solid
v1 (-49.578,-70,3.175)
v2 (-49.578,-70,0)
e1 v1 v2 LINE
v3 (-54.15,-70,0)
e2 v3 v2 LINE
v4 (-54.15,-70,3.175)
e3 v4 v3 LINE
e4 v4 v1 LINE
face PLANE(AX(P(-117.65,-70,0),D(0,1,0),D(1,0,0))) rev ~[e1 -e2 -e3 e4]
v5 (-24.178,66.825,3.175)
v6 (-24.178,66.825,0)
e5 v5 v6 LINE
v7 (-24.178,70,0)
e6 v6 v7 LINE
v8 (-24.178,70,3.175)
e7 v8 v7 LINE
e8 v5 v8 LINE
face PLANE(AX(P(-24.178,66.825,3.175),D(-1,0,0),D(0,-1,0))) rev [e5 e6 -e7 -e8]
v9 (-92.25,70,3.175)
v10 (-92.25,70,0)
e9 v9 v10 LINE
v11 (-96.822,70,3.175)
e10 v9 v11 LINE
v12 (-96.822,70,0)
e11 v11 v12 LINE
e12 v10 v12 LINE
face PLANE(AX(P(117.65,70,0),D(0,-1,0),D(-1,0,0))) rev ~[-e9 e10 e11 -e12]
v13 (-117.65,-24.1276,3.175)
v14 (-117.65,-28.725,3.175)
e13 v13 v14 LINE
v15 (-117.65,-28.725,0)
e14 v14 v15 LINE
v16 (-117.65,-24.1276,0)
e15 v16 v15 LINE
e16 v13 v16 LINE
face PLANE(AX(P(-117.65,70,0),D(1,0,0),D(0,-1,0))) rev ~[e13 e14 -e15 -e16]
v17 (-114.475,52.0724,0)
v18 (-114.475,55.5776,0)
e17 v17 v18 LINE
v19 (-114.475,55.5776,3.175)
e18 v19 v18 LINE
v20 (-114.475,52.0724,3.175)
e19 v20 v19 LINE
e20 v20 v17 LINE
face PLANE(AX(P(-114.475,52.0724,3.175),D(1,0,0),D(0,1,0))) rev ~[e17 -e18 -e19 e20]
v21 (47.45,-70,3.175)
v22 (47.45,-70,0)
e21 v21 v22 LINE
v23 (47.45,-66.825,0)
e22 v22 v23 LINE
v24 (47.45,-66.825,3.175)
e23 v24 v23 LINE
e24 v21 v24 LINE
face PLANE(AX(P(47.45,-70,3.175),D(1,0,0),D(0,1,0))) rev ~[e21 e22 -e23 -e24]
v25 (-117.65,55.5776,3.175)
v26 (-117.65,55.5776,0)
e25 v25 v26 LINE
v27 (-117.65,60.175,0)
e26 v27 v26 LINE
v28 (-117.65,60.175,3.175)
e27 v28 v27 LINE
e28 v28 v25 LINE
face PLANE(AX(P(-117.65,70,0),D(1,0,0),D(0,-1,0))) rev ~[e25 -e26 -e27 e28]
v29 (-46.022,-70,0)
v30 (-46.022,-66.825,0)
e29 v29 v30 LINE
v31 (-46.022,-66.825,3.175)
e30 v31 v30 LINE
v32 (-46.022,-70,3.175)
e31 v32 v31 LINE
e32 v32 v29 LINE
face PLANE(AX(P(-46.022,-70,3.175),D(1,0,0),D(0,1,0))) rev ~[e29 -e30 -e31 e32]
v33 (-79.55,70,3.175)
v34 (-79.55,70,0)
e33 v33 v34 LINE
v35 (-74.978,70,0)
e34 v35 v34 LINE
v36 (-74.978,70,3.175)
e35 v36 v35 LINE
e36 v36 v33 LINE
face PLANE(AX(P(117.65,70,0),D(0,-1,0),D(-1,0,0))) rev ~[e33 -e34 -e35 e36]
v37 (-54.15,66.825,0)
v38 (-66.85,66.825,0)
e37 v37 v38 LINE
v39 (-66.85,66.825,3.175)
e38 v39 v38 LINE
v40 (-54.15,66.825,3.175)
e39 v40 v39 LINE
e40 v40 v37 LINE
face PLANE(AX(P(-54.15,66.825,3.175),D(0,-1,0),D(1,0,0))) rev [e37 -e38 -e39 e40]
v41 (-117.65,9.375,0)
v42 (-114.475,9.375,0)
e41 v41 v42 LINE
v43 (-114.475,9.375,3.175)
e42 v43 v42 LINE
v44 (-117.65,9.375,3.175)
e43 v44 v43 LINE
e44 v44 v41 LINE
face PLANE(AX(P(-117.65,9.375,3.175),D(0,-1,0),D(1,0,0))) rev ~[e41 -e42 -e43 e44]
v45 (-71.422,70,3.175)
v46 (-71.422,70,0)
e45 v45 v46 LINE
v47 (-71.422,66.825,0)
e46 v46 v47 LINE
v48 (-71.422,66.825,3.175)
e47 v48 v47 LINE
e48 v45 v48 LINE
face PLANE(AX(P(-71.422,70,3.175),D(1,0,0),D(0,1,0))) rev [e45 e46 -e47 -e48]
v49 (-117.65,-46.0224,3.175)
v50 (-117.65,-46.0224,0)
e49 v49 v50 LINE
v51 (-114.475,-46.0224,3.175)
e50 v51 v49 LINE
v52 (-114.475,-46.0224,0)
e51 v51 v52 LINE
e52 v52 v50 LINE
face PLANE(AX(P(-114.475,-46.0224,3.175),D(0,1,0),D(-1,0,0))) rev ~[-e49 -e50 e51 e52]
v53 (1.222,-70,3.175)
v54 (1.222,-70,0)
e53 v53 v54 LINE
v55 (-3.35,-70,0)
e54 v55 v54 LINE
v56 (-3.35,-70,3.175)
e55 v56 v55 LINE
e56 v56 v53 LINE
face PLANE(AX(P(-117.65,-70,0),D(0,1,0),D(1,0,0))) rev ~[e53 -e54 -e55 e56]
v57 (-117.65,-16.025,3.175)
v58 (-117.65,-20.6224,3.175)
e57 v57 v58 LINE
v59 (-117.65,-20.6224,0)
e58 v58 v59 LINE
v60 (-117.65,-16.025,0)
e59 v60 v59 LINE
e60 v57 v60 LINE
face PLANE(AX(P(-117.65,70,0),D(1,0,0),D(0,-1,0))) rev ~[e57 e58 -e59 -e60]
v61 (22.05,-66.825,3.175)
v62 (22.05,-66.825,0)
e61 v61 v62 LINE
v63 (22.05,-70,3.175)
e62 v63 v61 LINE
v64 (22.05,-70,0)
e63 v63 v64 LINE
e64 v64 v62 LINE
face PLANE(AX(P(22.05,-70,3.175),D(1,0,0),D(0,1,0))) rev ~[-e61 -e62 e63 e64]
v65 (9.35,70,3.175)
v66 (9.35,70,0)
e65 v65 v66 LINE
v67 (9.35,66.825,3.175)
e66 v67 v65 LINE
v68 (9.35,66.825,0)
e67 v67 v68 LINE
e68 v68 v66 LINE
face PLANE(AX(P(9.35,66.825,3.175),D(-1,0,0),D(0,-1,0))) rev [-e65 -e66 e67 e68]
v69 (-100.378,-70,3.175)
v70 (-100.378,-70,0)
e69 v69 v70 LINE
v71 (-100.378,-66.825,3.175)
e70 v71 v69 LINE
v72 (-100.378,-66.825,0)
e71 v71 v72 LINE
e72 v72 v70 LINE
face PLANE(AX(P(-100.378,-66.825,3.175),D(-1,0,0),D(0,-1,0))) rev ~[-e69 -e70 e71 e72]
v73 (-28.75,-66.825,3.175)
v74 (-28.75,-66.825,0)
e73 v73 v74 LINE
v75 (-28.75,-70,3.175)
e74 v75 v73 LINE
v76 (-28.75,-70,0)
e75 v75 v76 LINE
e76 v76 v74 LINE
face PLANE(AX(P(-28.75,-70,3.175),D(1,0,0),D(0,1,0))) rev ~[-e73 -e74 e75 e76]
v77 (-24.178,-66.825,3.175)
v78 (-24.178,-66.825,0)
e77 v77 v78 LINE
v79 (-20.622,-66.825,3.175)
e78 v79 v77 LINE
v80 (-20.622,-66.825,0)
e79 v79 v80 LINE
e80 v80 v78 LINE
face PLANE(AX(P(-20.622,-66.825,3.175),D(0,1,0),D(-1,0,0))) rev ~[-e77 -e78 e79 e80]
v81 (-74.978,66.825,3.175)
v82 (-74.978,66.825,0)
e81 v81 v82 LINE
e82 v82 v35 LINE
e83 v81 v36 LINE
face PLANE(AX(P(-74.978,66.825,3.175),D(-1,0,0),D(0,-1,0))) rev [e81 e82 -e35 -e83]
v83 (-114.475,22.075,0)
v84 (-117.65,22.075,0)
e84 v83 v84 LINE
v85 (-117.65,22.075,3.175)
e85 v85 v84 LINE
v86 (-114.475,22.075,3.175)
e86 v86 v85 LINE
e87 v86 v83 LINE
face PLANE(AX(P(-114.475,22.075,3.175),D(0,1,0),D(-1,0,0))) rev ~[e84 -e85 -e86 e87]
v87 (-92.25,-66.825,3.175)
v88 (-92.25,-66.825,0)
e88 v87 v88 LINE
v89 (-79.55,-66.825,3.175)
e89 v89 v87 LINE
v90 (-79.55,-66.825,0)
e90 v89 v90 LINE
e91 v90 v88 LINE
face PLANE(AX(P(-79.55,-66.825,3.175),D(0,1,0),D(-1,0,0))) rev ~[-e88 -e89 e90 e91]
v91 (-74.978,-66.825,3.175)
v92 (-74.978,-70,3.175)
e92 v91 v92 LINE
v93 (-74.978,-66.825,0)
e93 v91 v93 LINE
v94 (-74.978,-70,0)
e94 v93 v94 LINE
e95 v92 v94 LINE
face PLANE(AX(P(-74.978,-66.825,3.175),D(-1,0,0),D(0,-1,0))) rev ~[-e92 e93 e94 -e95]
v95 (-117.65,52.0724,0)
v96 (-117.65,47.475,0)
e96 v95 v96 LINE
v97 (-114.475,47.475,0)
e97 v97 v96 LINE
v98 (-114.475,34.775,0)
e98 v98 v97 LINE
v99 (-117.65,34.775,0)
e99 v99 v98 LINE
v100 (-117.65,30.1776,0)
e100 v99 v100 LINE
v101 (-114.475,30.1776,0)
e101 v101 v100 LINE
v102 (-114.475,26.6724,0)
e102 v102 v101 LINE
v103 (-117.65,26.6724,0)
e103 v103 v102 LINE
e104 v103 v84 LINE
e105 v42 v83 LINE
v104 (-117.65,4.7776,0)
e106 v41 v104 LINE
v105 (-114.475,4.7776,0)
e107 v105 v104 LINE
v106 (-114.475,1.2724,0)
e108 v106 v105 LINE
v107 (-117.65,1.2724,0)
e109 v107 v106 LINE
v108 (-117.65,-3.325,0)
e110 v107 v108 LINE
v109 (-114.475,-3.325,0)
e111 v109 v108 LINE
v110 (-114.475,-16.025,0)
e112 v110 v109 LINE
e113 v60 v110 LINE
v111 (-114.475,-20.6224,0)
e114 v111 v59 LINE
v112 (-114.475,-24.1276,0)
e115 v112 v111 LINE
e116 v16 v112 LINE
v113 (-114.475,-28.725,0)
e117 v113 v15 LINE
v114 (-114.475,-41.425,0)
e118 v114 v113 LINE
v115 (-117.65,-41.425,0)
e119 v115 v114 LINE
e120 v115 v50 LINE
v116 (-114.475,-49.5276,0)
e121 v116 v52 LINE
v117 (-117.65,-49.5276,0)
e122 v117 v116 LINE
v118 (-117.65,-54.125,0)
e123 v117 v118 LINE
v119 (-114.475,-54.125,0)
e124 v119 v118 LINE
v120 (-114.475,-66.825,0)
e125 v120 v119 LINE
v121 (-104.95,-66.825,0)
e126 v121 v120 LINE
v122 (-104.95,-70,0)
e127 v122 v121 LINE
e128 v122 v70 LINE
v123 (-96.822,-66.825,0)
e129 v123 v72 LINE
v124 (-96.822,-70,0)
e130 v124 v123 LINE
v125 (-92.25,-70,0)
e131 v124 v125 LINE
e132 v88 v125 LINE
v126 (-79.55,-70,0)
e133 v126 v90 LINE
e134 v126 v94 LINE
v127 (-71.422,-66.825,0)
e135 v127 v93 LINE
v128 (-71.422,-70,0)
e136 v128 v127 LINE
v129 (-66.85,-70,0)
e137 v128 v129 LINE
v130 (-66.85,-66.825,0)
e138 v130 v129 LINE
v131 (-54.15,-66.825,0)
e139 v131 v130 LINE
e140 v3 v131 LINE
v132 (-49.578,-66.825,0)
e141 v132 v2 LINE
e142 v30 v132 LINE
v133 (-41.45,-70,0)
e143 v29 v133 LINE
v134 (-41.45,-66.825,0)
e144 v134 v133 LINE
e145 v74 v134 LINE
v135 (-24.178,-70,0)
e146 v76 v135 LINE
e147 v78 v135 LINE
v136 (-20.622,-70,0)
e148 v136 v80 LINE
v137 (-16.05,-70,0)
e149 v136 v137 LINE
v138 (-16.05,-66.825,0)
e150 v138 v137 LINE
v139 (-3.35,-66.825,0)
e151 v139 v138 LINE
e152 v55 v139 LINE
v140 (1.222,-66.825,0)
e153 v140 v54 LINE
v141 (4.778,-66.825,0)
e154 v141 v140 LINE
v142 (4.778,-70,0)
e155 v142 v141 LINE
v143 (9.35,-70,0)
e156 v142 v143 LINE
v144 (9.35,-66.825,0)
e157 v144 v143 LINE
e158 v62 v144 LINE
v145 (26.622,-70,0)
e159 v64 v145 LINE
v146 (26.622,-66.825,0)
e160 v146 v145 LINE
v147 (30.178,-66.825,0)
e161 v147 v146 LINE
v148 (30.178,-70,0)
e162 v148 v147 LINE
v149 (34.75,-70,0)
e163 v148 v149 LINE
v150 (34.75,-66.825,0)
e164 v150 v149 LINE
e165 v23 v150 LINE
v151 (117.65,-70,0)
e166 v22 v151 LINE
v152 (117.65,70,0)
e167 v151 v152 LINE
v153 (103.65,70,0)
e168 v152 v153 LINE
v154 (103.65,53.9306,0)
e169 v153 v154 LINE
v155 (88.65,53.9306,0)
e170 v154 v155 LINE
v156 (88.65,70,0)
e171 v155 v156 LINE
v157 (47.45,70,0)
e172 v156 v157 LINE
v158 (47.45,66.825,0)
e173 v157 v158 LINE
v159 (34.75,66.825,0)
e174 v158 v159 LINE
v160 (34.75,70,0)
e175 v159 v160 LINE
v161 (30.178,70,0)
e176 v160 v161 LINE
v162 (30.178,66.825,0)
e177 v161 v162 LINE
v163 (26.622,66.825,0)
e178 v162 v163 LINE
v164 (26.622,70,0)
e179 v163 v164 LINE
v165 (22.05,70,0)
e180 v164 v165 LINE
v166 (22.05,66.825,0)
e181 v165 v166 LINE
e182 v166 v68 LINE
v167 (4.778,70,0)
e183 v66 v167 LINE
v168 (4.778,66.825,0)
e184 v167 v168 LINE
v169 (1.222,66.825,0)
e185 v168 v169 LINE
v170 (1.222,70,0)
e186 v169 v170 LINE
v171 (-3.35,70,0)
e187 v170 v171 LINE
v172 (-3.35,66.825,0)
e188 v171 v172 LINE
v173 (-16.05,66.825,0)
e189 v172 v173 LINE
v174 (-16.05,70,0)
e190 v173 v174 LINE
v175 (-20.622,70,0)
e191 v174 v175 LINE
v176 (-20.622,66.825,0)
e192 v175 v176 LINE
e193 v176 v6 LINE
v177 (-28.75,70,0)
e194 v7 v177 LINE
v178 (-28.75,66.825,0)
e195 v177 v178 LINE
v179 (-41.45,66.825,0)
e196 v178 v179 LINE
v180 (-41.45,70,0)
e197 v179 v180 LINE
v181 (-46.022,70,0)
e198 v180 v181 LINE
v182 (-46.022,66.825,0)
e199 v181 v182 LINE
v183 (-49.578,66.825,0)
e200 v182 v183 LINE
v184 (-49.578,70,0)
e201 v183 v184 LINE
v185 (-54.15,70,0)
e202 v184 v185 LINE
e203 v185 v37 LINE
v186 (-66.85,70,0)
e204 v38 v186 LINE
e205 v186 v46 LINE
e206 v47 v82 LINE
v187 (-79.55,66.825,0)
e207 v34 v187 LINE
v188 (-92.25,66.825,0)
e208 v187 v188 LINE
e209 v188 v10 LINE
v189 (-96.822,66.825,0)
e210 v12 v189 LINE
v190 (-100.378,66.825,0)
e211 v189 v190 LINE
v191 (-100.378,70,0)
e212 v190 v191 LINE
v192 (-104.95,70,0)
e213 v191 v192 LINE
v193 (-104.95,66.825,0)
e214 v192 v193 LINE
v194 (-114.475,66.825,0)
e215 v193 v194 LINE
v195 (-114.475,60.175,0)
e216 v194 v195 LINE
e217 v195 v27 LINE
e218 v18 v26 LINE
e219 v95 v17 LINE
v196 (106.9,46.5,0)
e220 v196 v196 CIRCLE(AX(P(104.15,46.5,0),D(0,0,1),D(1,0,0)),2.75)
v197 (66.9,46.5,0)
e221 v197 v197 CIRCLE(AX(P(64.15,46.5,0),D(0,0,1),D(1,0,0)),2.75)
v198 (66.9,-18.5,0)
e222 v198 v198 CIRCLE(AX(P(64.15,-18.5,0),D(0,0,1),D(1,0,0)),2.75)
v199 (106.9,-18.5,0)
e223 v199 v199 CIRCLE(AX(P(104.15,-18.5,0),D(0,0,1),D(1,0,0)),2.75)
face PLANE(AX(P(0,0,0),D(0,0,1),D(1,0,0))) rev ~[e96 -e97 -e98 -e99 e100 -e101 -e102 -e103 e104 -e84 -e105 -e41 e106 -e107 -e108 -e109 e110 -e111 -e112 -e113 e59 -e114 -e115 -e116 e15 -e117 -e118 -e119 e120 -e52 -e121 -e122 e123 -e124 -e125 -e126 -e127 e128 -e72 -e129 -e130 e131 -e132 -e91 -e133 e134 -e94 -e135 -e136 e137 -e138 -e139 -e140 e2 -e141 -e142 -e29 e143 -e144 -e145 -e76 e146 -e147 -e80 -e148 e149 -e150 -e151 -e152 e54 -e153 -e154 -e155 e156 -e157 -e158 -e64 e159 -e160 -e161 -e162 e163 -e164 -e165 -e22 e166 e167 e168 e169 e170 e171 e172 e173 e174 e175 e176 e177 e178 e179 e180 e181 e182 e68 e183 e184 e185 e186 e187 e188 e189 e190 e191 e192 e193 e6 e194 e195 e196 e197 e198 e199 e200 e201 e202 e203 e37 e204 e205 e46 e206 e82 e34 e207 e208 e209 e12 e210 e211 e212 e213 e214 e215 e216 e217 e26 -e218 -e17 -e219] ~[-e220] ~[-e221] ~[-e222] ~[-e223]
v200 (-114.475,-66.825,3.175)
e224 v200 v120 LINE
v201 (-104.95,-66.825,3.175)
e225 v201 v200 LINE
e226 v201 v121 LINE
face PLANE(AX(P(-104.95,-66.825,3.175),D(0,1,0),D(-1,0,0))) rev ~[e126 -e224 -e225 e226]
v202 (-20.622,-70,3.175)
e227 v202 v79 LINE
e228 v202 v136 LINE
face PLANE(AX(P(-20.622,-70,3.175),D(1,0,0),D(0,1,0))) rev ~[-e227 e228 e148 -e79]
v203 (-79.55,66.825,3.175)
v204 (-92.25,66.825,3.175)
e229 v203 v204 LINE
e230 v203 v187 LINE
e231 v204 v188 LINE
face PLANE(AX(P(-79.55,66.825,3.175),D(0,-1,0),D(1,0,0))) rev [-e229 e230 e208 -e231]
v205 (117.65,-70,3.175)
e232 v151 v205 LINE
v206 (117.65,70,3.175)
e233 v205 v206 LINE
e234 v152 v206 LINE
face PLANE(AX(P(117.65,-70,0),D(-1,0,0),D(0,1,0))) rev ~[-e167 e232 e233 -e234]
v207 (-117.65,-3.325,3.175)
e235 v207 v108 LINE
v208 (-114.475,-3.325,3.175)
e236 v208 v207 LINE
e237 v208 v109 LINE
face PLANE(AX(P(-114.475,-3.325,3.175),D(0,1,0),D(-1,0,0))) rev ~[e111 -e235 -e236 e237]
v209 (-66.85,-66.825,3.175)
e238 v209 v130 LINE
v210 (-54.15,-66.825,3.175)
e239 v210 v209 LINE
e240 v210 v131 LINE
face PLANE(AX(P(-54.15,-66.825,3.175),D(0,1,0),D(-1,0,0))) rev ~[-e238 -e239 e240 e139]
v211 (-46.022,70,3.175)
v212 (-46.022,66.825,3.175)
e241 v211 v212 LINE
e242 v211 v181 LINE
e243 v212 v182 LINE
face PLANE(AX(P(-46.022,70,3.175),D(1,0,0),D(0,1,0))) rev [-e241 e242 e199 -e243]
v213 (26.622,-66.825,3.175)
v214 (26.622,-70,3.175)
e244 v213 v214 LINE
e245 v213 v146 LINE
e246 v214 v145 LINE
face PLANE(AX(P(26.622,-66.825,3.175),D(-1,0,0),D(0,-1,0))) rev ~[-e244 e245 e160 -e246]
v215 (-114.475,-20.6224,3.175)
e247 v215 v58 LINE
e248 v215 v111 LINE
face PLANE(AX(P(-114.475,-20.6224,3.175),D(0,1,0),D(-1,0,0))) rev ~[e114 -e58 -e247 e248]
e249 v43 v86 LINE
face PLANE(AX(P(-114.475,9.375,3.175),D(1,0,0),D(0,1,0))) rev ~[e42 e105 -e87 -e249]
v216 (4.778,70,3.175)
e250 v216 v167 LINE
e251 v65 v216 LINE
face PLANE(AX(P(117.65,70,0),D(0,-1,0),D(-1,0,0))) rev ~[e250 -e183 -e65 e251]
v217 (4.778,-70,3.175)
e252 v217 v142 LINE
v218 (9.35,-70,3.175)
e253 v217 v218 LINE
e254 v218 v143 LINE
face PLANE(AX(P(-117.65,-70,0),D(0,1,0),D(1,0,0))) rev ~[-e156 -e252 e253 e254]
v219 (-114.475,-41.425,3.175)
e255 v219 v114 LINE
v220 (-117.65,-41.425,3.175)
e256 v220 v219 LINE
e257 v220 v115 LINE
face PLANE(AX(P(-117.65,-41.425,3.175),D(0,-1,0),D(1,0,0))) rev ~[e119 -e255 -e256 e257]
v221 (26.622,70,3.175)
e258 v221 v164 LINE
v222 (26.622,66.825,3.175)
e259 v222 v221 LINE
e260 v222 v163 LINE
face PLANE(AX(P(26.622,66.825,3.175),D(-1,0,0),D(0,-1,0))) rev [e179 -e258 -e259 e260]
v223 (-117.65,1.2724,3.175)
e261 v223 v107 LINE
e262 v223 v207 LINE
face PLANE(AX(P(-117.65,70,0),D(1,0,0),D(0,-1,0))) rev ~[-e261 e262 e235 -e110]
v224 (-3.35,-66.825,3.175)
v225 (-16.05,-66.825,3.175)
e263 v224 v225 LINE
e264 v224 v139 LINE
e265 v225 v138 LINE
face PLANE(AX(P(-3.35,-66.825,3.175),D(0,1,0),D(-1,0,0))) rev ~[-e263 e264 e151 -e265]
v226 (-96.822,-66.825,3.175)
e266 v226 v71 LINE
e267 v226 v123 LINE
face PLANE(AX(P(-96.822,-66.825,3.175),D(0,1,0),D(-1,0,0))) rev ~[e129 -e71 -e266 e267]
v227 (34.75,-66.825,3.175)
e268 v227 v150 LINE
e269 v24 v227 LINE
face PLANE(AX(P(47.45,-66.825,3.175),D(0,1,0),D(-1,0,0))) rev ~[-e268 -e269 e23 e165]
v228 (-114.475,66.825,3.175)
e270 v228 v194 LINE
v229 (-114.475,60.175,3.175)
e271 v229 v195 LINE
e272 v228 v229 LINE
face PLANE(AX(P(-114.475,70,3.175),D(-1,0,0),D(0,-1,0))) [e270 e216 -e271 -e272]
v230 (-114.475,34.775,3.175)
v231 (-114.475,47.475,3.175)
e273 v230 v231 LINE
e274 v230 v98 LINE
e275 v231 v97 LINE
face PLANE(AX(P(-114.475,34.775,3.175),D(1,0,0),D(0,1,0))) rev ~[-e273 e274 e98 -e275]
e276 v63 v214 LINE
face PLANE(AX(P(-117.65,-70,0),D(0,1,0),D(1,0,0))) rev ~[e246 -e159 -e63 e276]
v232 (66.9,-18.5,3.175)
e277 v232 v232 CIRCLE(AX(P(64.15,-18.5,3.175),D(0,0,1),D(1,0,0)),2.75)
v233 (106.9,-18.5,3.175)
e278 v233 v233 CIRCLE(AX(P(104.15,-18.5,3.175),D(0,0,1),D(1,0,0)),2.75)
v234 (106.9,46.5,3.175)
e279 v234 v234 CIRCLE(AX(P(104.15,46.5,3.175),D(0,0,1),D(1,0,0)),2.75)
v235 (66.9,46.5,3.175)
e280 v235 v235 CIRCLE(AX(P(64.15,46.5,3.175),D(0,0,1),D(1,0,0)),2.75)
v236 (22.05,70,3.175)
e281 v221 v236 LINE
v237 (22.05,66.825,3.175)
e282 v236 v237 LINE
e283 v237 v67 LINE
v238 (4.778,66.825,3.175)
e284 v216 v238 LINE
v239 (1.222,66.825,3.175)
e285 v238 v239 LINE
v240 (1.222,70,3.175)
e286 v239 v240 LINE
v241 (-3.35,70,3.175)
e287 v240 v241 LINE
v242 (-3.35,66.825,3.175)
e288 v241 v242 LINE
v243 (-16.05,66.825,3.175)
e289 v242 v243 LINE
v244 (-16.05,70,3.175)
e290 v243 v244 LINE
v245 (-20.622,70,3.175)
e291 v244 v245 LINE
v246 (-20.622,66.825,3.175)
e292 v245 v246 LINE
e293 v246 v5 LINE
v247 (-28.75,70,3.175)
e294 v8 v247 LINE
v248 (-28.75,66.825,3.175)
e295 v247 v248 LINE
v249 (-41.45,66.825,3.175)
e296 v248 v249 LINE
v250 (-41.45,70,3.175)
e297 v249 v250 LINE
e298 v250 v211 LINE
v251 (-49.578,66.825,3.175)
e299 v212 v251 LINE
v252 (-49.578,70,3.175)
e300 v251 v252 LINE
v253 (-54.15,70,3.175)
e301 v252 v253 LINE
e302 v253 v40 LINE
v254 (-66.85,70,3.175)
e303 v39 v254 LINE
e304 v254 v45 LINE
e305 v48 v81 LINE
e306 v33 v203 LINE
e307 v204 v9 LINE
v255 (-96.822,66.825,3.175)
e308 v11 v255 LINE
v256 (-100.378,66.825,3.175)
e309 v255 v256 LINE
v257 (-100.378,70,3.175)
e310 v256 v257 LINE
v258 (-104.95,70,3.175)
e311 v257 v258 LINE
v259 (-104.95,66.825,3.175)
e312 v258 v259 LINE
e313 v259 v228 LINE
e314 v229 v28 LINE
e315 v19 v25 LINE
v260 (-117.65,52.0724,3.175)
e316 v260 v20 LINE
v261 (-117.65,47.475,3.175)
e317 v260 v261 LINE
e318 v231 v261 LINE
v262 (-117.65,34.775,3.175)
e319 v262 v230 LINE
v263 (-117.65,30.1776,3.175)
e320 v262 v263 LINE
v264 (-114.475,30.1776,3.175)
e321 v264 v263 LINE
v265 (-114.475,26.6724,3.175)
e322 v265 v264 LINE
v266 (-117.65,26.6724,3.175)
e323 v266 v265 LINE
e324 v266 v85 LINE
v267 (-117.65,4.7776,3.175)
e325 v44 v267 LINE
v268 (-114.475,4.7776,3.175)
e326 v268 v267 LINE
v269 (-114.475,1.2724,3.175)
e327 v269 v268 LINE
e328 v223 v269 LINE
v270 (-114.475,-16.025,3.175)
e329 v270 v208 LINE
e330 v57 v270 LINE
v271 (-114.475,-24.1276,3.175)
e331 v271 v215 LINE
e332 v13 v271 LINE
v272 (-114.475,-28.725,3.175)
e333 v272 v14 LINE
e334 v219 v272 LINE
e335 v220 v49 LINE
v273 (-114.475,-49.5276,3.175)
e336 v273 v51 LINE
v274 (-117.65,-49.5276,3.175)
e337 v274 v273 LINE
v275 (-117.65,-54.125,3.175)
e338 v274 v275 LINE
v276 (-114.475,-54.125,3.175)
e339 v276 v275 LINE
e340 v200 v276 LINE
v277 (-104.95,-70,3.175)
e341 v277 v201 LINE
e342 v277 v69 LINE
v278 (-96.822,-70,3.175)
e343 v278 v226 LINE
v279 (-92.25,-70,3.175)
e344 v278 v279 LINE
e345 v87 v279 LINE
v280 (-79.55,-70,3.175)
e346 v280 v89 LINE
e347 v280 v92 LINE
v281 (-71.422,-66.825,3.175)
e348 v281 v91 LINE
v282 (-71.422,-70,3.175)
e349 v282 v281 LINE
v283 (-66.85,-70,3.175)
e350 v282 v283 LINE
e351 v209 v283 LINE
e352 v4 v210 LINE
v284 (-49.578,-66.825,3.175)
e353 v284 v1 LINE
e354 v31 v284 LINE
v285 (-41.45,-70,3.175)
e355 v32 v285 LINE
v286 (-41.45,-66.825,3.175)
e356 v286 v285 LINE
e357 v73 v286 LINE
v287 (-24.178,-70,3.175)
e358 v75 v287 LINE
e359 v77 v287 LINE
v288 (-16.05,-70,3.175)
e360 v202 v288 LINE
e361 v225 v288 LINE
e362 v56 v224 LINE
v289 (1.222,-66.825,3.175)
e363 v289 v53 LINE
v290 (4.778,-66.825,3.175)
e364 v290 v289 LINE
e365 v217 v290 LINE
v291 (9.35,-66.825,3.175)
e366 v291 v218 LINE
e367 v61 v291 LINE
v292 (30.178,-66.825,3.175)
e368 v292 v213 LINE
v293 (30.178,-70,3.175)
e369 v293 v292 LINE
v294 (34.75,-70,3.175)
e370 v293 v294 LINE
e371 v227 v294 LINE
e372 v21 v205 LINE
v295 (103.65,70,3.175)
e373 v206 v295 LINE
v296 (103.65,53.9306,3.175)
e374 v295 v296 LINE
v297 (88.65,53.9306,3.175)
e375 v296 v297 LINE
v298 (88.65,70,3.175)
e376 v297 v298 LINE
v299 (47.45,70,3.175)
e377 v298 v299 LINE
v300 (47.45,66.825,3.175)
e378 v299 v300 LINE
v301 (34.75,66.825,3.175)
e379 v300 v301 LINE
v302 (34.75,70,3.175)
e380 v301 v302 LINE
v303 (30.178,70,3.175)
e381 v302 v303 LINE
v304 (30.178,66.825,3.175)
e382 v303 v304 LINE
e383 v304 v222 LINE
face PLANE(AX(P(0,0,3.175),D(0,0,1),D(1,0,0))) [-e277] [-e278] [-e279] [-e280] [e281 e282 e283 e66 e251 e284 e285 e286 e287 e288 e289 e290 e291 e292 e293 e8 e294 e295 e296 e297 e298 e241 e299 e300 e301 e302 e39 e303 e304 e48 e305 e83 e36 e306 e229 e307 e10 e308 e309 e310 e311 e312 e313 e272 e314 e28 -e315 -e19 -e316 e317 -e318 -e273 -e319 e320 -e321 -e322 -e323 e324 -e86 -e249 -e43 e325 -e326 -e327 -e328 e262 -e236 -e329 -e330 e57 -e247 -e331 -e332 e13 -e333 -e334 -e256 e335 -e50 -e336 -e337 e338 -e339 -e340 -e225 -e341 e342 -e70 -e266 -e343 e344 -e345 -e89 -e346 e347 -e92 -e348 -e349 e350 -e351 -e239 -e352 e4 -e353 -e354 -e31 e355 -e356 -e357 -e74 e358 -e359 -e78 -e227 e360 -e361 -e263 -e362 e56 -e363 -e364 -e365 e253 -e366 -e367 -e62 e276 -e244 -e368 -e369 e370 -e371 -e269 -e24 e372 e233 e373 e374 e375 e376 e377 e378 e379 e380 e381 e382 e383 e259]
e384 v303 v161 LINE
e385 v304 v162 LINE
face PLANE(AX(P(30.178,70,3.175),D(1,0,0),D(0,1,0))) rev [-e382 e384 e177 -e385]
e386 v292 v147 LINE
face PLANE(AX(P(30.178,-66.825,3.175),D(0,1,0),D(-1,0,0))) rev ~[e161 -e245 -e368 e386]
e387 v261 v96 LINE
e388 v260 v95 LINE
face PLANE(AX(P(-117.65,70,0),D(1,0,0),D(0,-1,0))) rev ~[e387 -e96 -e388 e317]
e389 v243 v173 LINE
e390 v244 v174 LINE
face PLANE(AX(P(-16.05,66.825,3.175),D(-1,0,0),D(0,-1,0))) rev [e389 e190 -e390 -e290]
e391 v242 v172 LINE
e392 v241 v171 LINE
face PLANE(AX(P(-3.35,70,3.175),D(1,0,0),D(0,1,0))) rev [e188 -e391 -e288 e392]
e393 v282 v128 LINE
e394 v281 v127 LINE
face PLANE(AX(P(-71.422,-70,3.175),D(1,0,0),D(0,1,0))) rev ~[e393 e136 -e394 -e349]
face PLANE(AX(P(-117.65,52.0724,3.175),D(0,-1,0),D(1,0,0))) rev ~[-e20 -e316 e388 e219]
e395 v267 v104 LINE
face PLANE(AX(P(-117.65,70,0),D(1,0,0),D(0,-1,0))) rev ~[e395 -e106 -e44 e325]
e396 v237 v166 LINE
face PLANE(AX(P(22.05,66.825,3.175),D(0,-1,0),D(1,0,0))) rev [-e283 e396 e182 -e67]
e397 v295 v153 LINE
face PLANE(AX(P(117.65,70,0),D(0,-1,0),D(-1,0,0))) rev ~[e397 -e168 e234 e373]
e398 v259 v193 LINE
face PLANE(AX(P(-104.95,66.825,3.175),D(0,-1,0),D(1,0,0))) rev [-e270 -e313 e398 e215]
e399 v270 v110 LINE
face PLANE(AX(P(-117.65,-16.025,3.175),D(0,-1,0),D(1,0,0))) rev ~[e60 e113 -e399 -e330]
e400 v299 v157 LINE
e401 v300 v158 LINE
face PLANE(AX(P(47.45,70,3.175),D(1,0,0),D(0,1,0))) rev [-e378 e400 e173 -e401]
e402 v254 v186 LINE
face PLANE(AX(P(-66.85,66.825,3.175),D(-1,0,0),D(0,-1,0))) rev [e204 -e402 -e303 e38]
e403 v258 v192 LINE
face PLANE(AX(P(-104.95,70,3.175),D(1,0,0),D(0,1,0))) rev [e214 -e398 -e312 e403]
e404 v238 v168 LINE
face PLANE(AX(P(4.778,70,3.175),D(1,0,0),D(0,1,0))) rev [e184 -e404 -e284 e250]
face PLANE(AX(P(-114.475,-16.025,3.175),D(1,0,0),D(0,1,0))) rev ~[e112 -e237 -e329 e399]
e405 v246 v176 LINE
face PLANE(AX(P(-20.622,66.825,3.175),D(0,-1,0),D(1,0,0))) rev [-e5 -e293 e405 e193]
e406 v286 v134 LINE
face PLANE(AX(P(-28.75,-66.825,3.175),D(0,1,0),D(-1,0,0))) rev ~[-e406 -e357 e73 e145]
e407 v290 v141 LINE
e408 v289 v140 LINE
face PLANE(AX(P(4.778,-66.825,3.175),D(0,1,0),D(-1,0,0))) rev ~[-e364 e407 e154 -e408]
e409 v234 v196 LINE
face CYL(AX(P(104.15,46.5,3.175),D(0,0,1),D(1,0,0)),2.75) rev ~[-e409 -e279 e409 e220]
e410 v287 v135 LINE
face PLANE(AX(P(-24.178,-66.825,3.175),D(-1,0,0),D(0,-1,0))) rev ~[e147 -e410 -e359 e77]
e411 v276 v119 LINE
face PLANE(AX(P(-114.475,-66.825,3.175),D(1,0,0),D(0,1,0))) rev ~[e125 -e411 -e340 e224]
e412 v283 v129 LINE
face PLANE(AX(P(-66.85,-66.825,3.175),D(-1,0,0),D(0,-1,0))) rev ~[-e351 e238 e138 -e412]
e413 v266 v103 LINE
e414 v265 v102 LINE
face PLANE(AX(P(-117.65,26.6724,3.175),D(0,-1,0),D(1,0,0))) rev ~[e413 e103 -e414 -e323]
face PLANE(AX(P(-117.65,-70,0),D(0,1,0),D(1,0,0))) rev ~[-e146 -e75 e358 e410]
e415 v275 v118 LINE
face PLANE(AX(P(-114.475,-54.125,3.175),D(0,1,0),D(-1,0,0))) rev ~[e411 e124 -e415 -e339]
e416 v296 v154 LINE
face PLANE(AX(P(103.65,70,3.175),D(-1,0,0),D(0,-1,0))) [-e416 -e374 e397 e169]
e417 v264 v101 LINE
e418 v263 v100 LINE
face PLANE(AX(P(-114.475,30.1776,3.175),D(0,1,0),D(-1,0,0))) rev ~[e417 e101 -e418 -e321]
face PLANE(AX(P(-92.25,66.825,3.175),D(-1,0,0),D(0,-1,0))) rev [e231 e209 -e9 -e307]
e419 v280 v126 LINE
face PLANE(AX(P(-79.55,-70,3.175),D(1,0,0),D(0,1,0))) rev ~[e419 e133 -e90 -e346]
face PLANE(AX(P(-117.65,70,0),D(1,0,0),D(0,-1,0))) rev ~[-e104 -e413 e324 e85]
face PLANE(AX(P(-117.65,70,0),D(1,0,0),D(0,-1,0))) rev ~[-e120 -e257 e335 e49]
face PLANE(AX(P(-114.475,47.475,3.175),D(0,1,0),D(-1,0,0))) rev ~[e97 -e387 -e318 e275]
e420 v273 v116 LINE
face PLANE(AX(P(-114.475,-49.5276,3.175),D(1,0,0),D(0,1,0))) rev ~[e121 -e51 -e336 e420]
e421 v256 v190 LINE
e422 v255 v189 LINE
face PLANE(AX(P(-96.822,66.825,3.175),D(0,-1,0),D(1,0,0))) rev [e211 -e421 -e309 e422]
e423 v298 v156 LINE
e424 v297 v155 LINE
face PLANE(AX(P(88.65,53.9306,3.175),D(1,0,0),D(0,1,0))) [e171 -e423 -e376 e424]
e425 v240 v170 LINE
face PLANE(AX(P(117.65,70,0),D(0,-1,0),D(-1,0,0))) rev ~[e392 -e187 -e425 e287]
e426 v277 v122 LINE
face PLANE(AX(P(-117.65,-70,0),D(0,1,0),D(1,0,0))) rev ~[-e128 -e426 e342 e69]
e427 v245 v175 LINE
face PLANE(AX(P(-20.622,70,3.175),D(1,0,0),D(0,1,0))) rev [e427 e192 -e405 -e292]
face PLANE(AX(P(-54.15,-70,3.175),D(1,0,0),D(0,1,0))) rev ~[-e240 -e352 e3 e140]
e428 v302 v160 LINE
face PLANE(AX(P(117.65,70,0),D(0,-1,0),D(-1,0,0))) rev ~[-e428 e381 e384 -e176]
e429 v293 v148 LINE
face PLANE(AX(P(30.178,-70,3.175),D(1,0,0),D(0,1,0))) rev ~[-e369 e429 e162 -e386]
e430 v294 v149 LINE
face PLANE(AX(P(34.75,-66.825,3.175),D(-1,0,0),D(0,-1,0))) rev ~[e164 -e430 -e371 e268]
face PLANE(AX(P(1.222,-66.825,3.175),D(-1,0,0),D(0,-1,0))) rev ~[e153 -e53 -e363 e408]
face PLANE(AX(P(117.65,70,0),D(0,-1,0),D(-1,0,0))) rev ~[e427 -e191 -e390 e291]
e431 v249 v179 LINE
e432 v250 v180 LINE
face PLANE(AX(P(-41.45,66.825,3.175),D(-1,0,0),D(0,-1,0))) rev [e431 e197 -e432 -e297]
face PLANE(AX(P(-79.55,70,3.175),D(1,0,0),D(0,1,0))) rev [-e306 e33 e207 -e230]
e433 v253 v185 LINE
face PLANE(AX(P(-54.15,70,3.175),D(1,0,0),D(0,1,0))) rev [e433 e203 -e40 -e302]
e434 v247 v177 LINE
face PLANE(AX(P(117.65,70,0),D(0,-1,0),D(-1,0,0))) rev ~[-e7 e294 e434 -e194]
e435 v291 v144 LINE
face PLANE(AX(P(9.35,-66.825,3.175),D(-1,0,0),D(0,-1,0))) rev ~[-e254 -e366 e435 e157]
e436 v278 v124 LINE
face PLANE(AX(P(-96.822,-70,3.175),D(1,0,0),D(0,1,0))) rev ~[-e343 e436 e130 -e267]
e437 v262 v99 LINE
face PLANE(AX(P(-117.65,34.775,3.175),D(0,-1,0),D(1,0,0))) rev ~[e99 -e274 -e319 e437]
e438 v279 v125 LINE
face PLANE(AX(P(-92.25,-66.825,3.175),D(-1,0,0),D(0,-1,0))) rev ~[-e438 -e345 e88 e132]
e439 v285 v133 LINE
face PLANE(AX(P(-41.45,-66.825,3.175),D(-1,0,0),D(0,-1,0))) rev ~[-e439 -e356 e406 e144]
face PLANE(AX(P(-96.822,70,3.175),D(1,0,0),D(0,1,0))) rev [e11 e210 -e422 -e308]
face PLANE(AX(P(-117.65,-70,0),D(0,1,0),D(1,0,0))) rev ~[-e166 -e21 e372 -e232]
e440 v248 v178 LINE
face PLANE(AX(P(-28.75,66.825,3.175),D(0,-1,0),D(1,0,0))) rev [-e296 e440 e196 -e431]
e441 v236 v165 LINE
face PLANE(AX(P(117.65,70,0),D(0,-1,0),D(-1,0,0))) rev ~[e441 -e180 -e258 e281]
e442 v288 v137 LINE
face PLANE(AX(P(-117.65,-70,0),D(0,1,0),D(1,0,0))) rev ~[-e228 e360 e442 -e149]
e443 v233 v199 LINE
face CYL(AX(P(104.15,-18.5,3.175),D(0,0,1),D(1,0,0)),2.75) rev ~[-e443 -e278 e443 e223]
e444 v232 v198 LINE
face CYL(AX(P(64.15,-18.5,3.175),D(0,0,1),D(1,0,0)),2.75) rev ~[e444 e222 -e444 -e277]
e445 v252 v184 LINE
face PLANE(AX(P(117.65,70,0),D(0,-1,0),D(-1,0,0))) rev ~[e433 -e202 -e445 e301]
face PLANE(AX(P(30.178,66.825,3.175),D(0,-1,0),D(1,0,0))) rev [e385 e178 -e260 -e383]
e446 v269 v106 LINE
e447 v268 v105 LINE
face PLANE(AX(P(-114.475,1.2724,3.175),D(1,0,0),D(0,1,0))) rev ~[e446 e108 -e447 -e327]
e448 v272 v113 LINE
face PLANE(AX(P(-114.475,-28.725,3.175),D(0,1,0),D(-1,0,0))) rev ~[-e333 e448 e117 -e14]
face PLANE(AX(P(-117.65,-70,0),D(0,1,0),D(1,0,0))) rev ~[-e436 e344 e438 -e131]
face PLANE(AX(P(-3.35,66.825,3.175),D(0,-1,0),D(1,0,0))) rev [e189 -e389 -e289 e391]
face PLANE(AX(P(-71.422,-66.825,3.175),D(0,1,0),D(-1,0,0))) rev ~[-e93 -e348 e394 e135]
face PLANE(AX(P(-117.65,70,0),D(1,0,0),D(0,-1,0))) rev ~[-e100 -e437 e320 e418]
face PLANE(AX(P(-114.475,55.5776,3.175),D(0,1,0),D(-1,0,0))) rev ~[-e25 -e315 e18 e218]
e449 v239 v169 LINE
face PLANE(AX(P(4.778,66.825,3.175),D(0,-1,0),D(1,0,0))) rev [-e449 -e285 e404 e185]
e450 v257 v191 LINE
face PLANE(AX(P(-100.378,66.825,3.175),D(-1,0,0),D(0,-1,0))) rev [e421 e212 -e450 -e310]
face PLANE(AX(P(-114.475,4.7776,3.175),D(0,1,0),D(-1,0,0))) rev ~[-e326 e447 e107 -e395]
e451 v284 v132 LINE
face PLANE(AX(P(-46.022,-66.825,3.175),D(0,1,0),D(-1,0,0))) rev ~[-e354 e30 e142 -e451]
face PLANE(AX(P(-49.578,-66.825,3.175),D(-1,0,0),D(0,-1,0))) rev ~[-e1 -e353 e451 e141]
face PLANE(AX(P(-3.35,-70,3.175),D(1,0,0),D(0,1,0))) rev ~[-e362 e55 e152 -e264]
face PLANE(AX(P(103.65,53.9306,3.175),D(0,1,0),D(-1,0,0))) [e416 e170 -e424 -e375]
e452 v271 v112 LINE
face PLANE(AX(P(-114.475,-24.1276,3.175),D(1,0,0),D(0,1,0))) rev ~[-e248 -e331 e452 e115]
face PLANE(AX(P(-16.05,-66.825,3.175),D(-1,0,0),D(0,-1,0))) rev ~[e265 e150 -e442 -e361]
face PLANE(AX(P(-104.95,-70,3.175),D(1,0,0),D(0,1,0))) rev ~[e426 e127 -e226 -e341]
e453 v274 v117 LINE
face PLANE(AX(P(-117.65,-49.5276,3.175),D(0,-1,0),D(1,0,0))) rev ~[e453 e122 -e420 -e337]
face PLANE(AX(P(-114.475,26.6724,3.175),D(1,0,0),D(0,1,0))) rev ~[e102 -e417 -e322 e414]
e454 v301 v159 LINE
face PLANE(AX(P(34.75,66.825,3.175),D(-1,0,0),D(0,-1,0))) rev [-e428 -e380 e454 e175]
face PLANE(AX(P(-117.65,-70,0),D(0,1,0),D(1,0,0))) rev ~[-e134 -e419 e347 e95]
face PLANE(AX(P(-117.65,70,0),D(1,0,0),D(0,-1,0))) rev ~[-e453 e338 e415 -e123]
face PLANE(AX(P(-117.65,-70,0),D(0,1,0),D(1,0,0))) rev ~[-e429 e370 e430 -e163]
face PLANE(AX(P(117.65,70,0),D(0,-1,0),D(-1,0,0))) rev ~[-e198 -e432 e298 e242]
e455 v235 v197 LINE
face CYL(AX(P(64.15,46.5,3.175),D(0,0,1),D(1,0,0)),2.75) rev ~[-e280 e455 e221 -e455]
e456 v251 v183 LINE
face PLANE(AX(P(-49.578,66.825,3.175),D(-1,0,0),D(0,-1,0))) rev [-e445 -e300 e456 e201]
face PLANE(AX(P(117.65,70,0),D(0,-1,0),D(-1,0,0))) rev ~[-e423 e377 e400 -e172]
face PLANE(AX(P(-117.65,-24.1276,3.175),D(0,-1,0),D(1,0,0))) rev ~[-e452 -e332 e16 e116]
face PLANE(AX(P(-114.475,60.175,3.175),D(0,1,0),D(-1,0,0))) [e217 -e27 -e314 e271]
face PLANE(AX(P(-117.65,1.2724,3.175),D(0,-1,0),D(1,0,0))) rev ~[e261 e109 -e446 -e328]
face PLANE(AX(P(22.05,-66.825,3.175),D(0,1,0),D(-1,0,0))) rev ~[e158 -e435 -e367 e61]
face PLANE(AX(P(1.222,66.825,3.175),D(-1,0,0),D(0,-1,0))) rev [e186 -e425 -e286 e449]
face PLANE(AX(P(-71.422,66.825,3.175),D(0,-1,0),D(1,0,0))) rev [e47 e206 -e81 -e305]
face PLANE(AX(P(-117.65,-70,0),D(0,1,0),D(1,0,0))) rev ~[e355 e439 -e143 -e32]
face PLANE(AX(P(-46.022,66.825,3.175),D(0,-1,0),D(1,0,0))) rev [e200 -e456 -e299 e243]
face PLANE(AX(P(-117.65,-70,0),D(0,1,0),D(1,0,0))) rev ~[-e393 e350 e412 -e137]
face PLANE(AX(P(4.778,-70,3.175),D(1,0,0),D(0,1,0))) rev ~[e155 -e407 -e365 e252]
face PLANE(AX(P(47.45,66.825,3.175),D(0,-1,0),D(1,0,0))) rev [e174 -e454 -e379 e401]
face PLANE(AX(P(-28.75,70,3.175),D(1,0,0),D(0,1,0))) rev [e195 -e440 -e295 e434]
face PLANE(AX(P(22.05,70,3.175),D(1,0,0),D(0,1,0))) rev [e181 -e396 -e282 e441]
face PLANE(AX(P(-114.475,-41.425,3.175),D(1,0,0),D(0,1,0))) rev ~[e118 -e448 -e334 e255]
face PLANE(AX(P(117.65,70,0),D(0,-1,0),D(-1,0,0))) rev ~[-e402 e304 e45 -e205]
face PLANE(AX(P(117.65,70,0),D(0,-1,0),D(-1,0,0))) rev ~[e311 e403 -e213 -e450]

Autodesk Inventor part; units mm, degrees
ref_plane "YZ Plane" through (0, 0, 0) normal (1, 0, 0) x (0, 1, 0)
ref_plane "XZ Plane" through (0, 0, 0) normal (0, 1, 0) x (-1, 0, 0)
ref_plane "XY Plane" through (0, 0, 0) normal (0, 0, 1) x (1, 0, 0)
sketch "Sketch1" plane through (0, 0, 0) normal (0, 0, 1) x (1, 0, 0)
  line L0 (-117.65, -70) -> (117.65, -70)
  line L1 (117.65, -70) -> (117.65, 70)
  line L2 (117.65, 70) -> (-117.65, 70)
  line L3 (-117.65, 70) -> (-117.65, -70)
  point P0 (0, 0)
  point P1 (-117.65, 0)
  point P2 (0, 70)
  dimension "d0" = 235.3
  dimension "d1" = 140
extrude "Extrusion1" add sketch "Sketch1" along normal blind 3.175
sketch "Sketch2" plane through (0, 0, 3.175) normal (0, 0, 1) x (1, 0, 0)
  circle A0 centre (104.15, 46.5) radius 2.75
  line L0 (117.65, 70) -> (-117.65, 70) projected
  line L1 (117.65, -70) -> (117.65, 70) projected
  circle A1 centre (64.15, 46.5) radius 2.75
  circle A2 centre (104.15, -18.5) radius 2.75
  circle A3 centre (64.15, -18.5) radius 2.75
  point P0 (0, 0)
  dimension "d4" = 23.5
  dimension "d5" = 13.5
  dimension "d6" = 5.5
  dimension "d7" = 5.5
  dimension "d8" = 23.5
  dimension "d9" = 40
  dimension "d10" = 5.5
  dimension "d11" = 13.5
  dimension "d12" = 65
  dimension "d13" = 5.5
  dimension "d14" = 40
  dimension "d15" = 65
extrude "Extrusion2" cut sketch "Sketch2" against normal through all
sketch "Sketch3" plane through (0, 0, 3.175) normal (0, 0, 1) x (1, 0, 0)
  line L0 (-117.65, 70) -> (-117.65, -70) projected
  line L1 (-117.65, -70) -> (-104.95, -70)
  line L2 (-104.95, -70) -> (-104.95, -66.825)
  line L3 (-104.95, -66.825) -> (-117.65, -66.825)
  line L4 (-117.65, -66.825) -> (-117.65, -70)
  point P0 (0, 0)
  dimension "d18" = 12.7
  dimension "d19" = 3.175
extrude "Extrusion3" cut sketch "Sketch3" against normal through all
sketch "Sketch4" plane through (0, 0, 3.175) normal (0, 0, 1) x (1, 0, 0)
  line L0 (-104.95, -70) -> (117.65, -70) projected
  line L1 (-100.378, -70) -> (-96.822, -70)
  line L2 (-96.822, -70) -> (-96.822, -66.825)
  line L3 (-96.822, -66.825) -> (-100.378, -66.825)
  line L4 (-100.378, -66.825) -> (-100.378, -70)
  line L5 (-104.95, -66.825) -> (-104.95, -70) projected
  point P0 (0, 0)
  dimension "d22" = 3.556
  dimension "d23" = 3.175
  dimension "d24" = 4.572
extrude "Extrusion4" cut sketch "Sketch4" against normal through all
pattern_linear "Rectangular Pattern1" count 6 spacing 25.4 along (1, 0, 0) of "Extrusion3", "Extrusion4"
sketch "Sketch5" plane through (0, 0, 3.175) normal (0, 0, 1) x (1, 0, 0)
  line L0 (-82.65, -45) -> (81.35, -45)
  line L1 (81.35, -45) -> (81.35, 55)
  line L2 (81.35, 55) -> (-82.65, 55)
  line L3 (-82.65, 55) -> (-82.65, -45)
  line L4 (117.65, 70) -> (-117.65, 70) projected
  line L5 (-117.65, 70) -> (-117.65, -66.825) projected
  point P0 (0, 0)
  dimension "d30" = 164
  dimension "d31" = 100
  dimension "d32" = 15
  dimension "d33" = 35
extrude "Extrusion5" [suppressed]
sketch "Sketch6" plane through (0, 0, 3.175) normal (0, 0, 1) x (1, 0, 0)
  circle A0 centre (-195.0968, -60.6866) radius 1.6
  line L0 (-190.0468, 40.3134) -> (-190.0468, -59.6866) projected
  line L1 (-26.0468, -59.6866) -> (-190.0468, -59.6866) projected
  circle A1 centre (-195.0968, 41.3134) radius 1.6
  line L2 (-190.0468, 40.3134) -> (-26.0468, 40.3134) projected
  circle A2 centre (-20.9968, 41.3134) radius 1.6
  line L3 (-26.0468, 40.3134) -> (-26.0468, -59.6866) projected
  circle A3 centre (-20.9968, -60.6866) radius 1.6
  point P0 (0, 0)
  dimension "d36" = 3.2
  dimension "d37" = 5.05
  dimension "d38" = 1
  dimension "d39" = 3.2
  dimension "d40" = 1
  dimension "d41" = 5.05
  dimension "d42" = 3.2
  dimension "d43" = 1
  dimension "d44" = 5.05
  dimension "d45" = 3.2
  dimension "d46" = 1
  dimension "d47" = 5.05
extrude "Extrusion6" [suppressed]
sketch "Sketch7" plane through (0, 0, 3.175) normal (0, 0, 1) x (1, 0, 0)
  line L0 (-117.65, 70) -> (-117.65, -66.825) projected
  line L1 (-117.65, -54.125) -> (-111.3, -54.125)
  line L2 (-111.3, -54.125) -> (-111.3, -41.425)
  line L3 (-111.3, -41.425) -> (-117.65, -41.425)
  line L4 (-117.65, -41.425) -> (-117.65, -54.125)
  line L5 (-117.65, -66.825) -> (-104.95, -66.825) projected
  point P0 (0, 0)
  dimension "d50" = 6.35
  dimension "d51" = 12.7
  dimension "d52" = 12.7
extrude "Extrusion7" [suppressed]
sketch "Sketch8" plane through (0, 0, 3.175) normal (0, 0, 1) x (1, 0, 0)
  line L0 (-148.4968, -45.6366) -> (-148.4968, -32.9366) projected
  line L1 (-148.4968, -41.0646) -> (-145.9568, -41.0646)
  line L2 (-145.9568, -41.0646) -> (-145.9568, -37.5086)
  line L3 (-145.9568, -37.5086) -> (-148.4968, -37.5086)
  line L4 (-148.4968, -37.5086) -> (-148.4968, -41.0646)
  line L5 (-154.8468, -32.9366) -> (-148.4968, -32.9366) projected
  point P0 (0, 0)
  dimension "d55" = 3.556
  dimension "d56" = 4.572
  dimension "d57" = 2.54
extrude "Extrusion8" [suppressed]
sketch "Sketch9" plane through (0, 0, 3.175) normal (0, 0, 1) x (1, 0, 0)
  line L0 (-145.9568, -43.2553) -> (-143.1786, -43.2553)
  line L1 (-143.1786, -43.2553) -> (-143.1786, -35.3178)
  line L2 (-143.1786, -35.3178) -> (-145.9568, -35.3178)
  line L3 (-145.9568, -35.3178) -> (-145.9568, -43.2553)
  line L4 (-145.9568, -37.5086) -> (-145.9568, -41.0646) projected
  line L5 (-117.65, 70) -> (-117.65, -66.825) projected
  line L6 (-117.65, -66.825) -> (-104.95, -66.825) projected
  line L7 (-104.95, -66.825) -> (-104.95, -70) projected
  line L8 (-104.95, -70) -> (-100.378, -70) projected
  line L9 (-100.378, -70) -> (-100.378, -66.825) projected
  line L10 (-100.378, -66.825) -> (-96.822, -66.825) projected
  line L11 (-96.822, -66.825) -> (-96.822, -70) projected
  line L12 (-96.822, -70) -> (-92.25, -70) projected
  line L13 (-92.25, -70) -> (-92.25, -66.825) projected
  line L14 (-92.25, -66.825) -> (-79.55, -66.825) projected
  line L15 (-79.55, -66.825) -> (-79.55, -70) projected
  line L16 (-79.55, -70) -> (-74.978, -70) projected
  line L17 (-74.978, -70) -> (-74.978, -66.825) projected
  line L18 (-74.978, -66.825) -> (-71.422, -66.825) projected
  line L19 (-71.422, -66.825) -> (-71.422, -70) projected
  line L20 (-71.422, -70) -> (-66.85, -70) projected
  line L21 (-66.85, -70) -> (-66.85, -66.825) projected
  line L22 (-66.85, -66.825) -> (-54.15, -66.825) projected
  line L23 (-54.15, -66.825) -> (-54.15, -70) projected
  line L24 (-54.15, -70) -> (-49.578, -70) projected
  line L25 (-49.578, -70) -> (-49.578, -66.825) projected
  line L26 (-49.578, -66.825) -> (-46.022, -66.825) projected
  line L27 (-46.022, -66.825) -> (-46.022, -70) projected
  line L28 (-46.022, -70) -> (-41.45, -70) projected
  line L29 (-41.45, -70) -> (-41.45, -66.825) projected
  line L30 (-41.45, -66.825) -> (-28.75, -66.825) projected
  line L31 (-28.75, -66.825) -> (-28.75, -70) projected
  line L32 (-28.75, -70) -> (-24.178, -70) projected
  line L33 (-24.178, -70) -> (-24.178, -66.825) projected
  line L34 (-24.178, -66.825) -> (-20.622, -66.825) projected
  line L35 (-20.622, -66.825) -> (-20.622, -70) projected
  line L36 (-20.622, -70) -> (-16.05, -70) projected
  line L37 (-16.05, -70) -> (-16.05, -66.825) projected
  line L38 (-16.05, -66.825) -> (-3.35, -66.825) projected
  line L39 (-3.35, -66.825) -> (-3.35, -70) projected
  line L40 (-3.35, -70) -> (1.222, -70) projected
  line L41 (1.222, -70) -> (1.222, -66.825) projected
  line L42 (1.222, -66.825) -> (4.778, -66.825) projected
  line L43 (4.778, -66.825) -> (4.778, -70) projected
  line L44 (4.778, -70) -> (9.35, -70) projected
  line L45 (9.35, -70) -> (9.35, -66.825) projected
  line L46 (9.35, -66.825) -> (22.05, -66.825) projected
  line L47 (22.05, -66.825) -> (22.05, -70) projected
  line L48 (22.05, -70) -> (26.622, -70) projected
  line L49 (26.622, -70) -> (26.622, -66.825) projected
  line L50 (26.622, -66.825) -> (30.178, -66.825) projected
  line L51 (30.178, -66.825) -> (30.178, -70) projected
  line L52 (117.65, -70) -> (117.65, 70) projected
  line L53 (117.65, 70) -> (-117.65, 70) projected
  circle A0 centre (104.15, -18.5) radius 2.75 projected
  circle A1 centre (104.15, 46.5) radius 2.75 projected
  circle A2 centre (64.15, 46.5) radius 2.75 projected
  circle A3 centre (64.15, -18.5) radius 2.75 projected
  line L54 (30.178, -70) -> (117.65, -70) projected
  point P0 (0, 0)
  dimension "d60" = 2.7781
  dimension "d61" = 7.9375
extrude "Extrusion9" [suppressed]
sketch "Sketch10" plane through (0, 0, 3.175) normal (0, 0, 1) x (1, 0, 0)
  line L0 (-143.1786, -41.0643) -> (-102.41, -41.0643)
  line L1 (-102.41, -41.0643) -> (-102.41, -37.5088)
  line L2 (-102.41, -37.5088) -> (-143.1786, -37.5088)
  line L3 (-143.1786, -37.5088) -> (-143.1786, -41.0643)
  line L4 (-145.9568, -35.3178) -> (-143.1786, -35.3178) projected
  line L5 (-143.1786, -43.2553) -> (-145.9568, -43.2553) projected
  line L6 (-143.1786, -35.3178) -> (-143.1786, -43.2553) projected
  line L7 (-117.65, 70) -> (-117.65, -66.825) projected
  point P0 (0, 0)
  point P1 (-154.8468, -45.6366)
  point P2 (-117.65, -66.825)
  dimension "d65" = 2.191
  dimension "d66" = 2.191
  dimension "d67" = 0
  dimension "d68" = 15.24
extrude "Extrusion10" [suppressed]
sketch "Sketch11" plane through (0, 0, 3.175) normal (0, 0, 1) x (1, 0, 0)
  line L0 (-117.65, 70) -> (-117.65, -66.825) projected
  line L1 (-117.65, -66.825) -> (-114.475, -66.825)
  line L2 (-114.475, -66.825) -> (-114.475, -54.125)
  line L3 (-114.475, -54.125) -> (-117.65, -54.125)
  line L4 (-117.65, -54.125) -> (-117.65, -66.825)
  point P0 (0, 0)
  dimension "d71" = 3.175
  dimension "d72" = 12.7
extrude "Extrusion11" cut sketch "Sketch11" against normal through all
sketch "Sketch12" plane through (0, 0, 3.175) normal (0, 0, 1) x (1, 0, 0)
  line L0 (-117.65, 70) -> (-117.65, -54.125) projected
  line L1 (-117.65, -49.5276) -> (-114.475, -49.5276)
  line L2 (-114.475, -49.5276) -> (-114.475, -46.0224)
  line L3 (-114.475, -46.0224) -> (-117.65, -46.0224)
  line L4 (-117.65, -46.0224) -> (-117.65, -49.5276)
  line L5 (-114.475, -54.125) -> (-117.65, -54.125) projected
  point P0 (0, 0)
  dimension "d75" = 3.5052
  dimension "d76" = 3.175
  dimension "d77" = 4.5974
extrude "Extrusion12" cut sketch "Sketch12" against normal through all
pattern_linear "Rectangular Pattern2" count 5 spacing 25.4 along (0, 1, 0) of "Extrusion11", "Extrusion12"
sketch "Sketch13" plane through (0, 0, 3.175) normal (0, 0, 1) x (1, 0, 0)
  line L0 (117.65, 70) -> (-117.65, 70) projected
  line L1 (-117.65, 70) -> (-111.3, 70)
  line L2 (-111.3, 70) -> (-111.3, 34.775)
  line L3 (-111.3, 34.775) -> (-117.65, 34.775)
  line L4 (-117.65, 34.775) -> (-117.65, 70)
  line L5 (-117.65, 30.1776) -> (-114.475, 30.1776) projected
  point P0 (0, 0)
  dimension "d83" = 6.35
  dimension "d84" = 4.5974
extrude "Extrusion13" [suppressed]
sketch "Sketch14" plane through (-190.0468, -59.6866, 6.35) normal (0, 1, 0) x (1, 0, 0)
  point P0 (190.0468, 6.35)
sketch "Sketch15" plane through (0, 0, 3.175) normal (0, 0, 1) x (1, 0, 0)
  point P0 (0, 0)
sketch "Sketch16" plane through (0, 0, 3.175) normal (0, 0, 1) x (1, 0, 0)
  line L0 (117.65, 70) -> (-117.65, 70) projected
  line L1 (88.65, 70) -> (103.65, 70)
  line L2 (103.65, 70) -> (103.65, 53.9306)
  line L3 (103.65, 53.9306) -> (88.65, 53.9306)
  line L4 (88.65, 53.9306) -> (88.65, 70)
  line L5 (117.65, -70) -> (117.65, 70) projected
  point P0 (0, 0)
  point P1 (-148.4968, 55.3134)
  dimension "d87" = 15
  dimension "d88" = 14
extrude "Extrusion14" cut sketch "Sketch16" against normal through all
sketch "Sketch17" plane through (0, 0, 3.175) normal (0, 0, 1) x (1, 0, 0)
  line L0 (88.65, 70) -> (-117.65, 70) projected
  line L1 (-117.65, 70) -> (-114.475, 70)
  line L2 (-114.475, 70) -> (-114.475, 60.175)
  line L3 (-114.475, 60.175) -> (-117.65, 60.175)
  line L4 (-117.65, 60.175) -> (-117.65, 70)
  line L5 (-114.475, 55.5776) -> (-117.65, 55.5776) projected
  point P0 (0, 0)
  dimension "d91" = 3.175
  dimension "d92" = 4.5974
extrude "Extrusion15" cut sketch "Sketch17" against normal through all
sketch "Sketch18" plane through (0, 0, 3.175) normal (0, 0, 1) x (1, 0, 0)
  line L0 (30.178, -70) -> (117.65, -70) projected
  line L1 (34.75, -70) -> (47.45, -70)
  line L2 (47.45, -70) -> (47.45, -66.825)
  line L3 (47.45, -66.825) -> (34.75, -66.825)
  line L4 (34.75, -66.825) -> (34.75, -70)
  line L5 (30.178, -66.825) -> (30.178, -70) projected
  point P0 (0, 0)
  dimension "d95" = 3.175
  dimension "d96" = 12.7
  dimension "d97" = 4.572
extrude "Extrusion16" cut sketch "Sketch18" against normal through all
mirror "Mirror1" about plane through (0, 0, 0) normal (0, 1, 0) of "Rectangular Pattern1", "Extrusion3", "Extrusion4", "Extrusion16"
properties part number "3DprinterSideBracket_2.0"
